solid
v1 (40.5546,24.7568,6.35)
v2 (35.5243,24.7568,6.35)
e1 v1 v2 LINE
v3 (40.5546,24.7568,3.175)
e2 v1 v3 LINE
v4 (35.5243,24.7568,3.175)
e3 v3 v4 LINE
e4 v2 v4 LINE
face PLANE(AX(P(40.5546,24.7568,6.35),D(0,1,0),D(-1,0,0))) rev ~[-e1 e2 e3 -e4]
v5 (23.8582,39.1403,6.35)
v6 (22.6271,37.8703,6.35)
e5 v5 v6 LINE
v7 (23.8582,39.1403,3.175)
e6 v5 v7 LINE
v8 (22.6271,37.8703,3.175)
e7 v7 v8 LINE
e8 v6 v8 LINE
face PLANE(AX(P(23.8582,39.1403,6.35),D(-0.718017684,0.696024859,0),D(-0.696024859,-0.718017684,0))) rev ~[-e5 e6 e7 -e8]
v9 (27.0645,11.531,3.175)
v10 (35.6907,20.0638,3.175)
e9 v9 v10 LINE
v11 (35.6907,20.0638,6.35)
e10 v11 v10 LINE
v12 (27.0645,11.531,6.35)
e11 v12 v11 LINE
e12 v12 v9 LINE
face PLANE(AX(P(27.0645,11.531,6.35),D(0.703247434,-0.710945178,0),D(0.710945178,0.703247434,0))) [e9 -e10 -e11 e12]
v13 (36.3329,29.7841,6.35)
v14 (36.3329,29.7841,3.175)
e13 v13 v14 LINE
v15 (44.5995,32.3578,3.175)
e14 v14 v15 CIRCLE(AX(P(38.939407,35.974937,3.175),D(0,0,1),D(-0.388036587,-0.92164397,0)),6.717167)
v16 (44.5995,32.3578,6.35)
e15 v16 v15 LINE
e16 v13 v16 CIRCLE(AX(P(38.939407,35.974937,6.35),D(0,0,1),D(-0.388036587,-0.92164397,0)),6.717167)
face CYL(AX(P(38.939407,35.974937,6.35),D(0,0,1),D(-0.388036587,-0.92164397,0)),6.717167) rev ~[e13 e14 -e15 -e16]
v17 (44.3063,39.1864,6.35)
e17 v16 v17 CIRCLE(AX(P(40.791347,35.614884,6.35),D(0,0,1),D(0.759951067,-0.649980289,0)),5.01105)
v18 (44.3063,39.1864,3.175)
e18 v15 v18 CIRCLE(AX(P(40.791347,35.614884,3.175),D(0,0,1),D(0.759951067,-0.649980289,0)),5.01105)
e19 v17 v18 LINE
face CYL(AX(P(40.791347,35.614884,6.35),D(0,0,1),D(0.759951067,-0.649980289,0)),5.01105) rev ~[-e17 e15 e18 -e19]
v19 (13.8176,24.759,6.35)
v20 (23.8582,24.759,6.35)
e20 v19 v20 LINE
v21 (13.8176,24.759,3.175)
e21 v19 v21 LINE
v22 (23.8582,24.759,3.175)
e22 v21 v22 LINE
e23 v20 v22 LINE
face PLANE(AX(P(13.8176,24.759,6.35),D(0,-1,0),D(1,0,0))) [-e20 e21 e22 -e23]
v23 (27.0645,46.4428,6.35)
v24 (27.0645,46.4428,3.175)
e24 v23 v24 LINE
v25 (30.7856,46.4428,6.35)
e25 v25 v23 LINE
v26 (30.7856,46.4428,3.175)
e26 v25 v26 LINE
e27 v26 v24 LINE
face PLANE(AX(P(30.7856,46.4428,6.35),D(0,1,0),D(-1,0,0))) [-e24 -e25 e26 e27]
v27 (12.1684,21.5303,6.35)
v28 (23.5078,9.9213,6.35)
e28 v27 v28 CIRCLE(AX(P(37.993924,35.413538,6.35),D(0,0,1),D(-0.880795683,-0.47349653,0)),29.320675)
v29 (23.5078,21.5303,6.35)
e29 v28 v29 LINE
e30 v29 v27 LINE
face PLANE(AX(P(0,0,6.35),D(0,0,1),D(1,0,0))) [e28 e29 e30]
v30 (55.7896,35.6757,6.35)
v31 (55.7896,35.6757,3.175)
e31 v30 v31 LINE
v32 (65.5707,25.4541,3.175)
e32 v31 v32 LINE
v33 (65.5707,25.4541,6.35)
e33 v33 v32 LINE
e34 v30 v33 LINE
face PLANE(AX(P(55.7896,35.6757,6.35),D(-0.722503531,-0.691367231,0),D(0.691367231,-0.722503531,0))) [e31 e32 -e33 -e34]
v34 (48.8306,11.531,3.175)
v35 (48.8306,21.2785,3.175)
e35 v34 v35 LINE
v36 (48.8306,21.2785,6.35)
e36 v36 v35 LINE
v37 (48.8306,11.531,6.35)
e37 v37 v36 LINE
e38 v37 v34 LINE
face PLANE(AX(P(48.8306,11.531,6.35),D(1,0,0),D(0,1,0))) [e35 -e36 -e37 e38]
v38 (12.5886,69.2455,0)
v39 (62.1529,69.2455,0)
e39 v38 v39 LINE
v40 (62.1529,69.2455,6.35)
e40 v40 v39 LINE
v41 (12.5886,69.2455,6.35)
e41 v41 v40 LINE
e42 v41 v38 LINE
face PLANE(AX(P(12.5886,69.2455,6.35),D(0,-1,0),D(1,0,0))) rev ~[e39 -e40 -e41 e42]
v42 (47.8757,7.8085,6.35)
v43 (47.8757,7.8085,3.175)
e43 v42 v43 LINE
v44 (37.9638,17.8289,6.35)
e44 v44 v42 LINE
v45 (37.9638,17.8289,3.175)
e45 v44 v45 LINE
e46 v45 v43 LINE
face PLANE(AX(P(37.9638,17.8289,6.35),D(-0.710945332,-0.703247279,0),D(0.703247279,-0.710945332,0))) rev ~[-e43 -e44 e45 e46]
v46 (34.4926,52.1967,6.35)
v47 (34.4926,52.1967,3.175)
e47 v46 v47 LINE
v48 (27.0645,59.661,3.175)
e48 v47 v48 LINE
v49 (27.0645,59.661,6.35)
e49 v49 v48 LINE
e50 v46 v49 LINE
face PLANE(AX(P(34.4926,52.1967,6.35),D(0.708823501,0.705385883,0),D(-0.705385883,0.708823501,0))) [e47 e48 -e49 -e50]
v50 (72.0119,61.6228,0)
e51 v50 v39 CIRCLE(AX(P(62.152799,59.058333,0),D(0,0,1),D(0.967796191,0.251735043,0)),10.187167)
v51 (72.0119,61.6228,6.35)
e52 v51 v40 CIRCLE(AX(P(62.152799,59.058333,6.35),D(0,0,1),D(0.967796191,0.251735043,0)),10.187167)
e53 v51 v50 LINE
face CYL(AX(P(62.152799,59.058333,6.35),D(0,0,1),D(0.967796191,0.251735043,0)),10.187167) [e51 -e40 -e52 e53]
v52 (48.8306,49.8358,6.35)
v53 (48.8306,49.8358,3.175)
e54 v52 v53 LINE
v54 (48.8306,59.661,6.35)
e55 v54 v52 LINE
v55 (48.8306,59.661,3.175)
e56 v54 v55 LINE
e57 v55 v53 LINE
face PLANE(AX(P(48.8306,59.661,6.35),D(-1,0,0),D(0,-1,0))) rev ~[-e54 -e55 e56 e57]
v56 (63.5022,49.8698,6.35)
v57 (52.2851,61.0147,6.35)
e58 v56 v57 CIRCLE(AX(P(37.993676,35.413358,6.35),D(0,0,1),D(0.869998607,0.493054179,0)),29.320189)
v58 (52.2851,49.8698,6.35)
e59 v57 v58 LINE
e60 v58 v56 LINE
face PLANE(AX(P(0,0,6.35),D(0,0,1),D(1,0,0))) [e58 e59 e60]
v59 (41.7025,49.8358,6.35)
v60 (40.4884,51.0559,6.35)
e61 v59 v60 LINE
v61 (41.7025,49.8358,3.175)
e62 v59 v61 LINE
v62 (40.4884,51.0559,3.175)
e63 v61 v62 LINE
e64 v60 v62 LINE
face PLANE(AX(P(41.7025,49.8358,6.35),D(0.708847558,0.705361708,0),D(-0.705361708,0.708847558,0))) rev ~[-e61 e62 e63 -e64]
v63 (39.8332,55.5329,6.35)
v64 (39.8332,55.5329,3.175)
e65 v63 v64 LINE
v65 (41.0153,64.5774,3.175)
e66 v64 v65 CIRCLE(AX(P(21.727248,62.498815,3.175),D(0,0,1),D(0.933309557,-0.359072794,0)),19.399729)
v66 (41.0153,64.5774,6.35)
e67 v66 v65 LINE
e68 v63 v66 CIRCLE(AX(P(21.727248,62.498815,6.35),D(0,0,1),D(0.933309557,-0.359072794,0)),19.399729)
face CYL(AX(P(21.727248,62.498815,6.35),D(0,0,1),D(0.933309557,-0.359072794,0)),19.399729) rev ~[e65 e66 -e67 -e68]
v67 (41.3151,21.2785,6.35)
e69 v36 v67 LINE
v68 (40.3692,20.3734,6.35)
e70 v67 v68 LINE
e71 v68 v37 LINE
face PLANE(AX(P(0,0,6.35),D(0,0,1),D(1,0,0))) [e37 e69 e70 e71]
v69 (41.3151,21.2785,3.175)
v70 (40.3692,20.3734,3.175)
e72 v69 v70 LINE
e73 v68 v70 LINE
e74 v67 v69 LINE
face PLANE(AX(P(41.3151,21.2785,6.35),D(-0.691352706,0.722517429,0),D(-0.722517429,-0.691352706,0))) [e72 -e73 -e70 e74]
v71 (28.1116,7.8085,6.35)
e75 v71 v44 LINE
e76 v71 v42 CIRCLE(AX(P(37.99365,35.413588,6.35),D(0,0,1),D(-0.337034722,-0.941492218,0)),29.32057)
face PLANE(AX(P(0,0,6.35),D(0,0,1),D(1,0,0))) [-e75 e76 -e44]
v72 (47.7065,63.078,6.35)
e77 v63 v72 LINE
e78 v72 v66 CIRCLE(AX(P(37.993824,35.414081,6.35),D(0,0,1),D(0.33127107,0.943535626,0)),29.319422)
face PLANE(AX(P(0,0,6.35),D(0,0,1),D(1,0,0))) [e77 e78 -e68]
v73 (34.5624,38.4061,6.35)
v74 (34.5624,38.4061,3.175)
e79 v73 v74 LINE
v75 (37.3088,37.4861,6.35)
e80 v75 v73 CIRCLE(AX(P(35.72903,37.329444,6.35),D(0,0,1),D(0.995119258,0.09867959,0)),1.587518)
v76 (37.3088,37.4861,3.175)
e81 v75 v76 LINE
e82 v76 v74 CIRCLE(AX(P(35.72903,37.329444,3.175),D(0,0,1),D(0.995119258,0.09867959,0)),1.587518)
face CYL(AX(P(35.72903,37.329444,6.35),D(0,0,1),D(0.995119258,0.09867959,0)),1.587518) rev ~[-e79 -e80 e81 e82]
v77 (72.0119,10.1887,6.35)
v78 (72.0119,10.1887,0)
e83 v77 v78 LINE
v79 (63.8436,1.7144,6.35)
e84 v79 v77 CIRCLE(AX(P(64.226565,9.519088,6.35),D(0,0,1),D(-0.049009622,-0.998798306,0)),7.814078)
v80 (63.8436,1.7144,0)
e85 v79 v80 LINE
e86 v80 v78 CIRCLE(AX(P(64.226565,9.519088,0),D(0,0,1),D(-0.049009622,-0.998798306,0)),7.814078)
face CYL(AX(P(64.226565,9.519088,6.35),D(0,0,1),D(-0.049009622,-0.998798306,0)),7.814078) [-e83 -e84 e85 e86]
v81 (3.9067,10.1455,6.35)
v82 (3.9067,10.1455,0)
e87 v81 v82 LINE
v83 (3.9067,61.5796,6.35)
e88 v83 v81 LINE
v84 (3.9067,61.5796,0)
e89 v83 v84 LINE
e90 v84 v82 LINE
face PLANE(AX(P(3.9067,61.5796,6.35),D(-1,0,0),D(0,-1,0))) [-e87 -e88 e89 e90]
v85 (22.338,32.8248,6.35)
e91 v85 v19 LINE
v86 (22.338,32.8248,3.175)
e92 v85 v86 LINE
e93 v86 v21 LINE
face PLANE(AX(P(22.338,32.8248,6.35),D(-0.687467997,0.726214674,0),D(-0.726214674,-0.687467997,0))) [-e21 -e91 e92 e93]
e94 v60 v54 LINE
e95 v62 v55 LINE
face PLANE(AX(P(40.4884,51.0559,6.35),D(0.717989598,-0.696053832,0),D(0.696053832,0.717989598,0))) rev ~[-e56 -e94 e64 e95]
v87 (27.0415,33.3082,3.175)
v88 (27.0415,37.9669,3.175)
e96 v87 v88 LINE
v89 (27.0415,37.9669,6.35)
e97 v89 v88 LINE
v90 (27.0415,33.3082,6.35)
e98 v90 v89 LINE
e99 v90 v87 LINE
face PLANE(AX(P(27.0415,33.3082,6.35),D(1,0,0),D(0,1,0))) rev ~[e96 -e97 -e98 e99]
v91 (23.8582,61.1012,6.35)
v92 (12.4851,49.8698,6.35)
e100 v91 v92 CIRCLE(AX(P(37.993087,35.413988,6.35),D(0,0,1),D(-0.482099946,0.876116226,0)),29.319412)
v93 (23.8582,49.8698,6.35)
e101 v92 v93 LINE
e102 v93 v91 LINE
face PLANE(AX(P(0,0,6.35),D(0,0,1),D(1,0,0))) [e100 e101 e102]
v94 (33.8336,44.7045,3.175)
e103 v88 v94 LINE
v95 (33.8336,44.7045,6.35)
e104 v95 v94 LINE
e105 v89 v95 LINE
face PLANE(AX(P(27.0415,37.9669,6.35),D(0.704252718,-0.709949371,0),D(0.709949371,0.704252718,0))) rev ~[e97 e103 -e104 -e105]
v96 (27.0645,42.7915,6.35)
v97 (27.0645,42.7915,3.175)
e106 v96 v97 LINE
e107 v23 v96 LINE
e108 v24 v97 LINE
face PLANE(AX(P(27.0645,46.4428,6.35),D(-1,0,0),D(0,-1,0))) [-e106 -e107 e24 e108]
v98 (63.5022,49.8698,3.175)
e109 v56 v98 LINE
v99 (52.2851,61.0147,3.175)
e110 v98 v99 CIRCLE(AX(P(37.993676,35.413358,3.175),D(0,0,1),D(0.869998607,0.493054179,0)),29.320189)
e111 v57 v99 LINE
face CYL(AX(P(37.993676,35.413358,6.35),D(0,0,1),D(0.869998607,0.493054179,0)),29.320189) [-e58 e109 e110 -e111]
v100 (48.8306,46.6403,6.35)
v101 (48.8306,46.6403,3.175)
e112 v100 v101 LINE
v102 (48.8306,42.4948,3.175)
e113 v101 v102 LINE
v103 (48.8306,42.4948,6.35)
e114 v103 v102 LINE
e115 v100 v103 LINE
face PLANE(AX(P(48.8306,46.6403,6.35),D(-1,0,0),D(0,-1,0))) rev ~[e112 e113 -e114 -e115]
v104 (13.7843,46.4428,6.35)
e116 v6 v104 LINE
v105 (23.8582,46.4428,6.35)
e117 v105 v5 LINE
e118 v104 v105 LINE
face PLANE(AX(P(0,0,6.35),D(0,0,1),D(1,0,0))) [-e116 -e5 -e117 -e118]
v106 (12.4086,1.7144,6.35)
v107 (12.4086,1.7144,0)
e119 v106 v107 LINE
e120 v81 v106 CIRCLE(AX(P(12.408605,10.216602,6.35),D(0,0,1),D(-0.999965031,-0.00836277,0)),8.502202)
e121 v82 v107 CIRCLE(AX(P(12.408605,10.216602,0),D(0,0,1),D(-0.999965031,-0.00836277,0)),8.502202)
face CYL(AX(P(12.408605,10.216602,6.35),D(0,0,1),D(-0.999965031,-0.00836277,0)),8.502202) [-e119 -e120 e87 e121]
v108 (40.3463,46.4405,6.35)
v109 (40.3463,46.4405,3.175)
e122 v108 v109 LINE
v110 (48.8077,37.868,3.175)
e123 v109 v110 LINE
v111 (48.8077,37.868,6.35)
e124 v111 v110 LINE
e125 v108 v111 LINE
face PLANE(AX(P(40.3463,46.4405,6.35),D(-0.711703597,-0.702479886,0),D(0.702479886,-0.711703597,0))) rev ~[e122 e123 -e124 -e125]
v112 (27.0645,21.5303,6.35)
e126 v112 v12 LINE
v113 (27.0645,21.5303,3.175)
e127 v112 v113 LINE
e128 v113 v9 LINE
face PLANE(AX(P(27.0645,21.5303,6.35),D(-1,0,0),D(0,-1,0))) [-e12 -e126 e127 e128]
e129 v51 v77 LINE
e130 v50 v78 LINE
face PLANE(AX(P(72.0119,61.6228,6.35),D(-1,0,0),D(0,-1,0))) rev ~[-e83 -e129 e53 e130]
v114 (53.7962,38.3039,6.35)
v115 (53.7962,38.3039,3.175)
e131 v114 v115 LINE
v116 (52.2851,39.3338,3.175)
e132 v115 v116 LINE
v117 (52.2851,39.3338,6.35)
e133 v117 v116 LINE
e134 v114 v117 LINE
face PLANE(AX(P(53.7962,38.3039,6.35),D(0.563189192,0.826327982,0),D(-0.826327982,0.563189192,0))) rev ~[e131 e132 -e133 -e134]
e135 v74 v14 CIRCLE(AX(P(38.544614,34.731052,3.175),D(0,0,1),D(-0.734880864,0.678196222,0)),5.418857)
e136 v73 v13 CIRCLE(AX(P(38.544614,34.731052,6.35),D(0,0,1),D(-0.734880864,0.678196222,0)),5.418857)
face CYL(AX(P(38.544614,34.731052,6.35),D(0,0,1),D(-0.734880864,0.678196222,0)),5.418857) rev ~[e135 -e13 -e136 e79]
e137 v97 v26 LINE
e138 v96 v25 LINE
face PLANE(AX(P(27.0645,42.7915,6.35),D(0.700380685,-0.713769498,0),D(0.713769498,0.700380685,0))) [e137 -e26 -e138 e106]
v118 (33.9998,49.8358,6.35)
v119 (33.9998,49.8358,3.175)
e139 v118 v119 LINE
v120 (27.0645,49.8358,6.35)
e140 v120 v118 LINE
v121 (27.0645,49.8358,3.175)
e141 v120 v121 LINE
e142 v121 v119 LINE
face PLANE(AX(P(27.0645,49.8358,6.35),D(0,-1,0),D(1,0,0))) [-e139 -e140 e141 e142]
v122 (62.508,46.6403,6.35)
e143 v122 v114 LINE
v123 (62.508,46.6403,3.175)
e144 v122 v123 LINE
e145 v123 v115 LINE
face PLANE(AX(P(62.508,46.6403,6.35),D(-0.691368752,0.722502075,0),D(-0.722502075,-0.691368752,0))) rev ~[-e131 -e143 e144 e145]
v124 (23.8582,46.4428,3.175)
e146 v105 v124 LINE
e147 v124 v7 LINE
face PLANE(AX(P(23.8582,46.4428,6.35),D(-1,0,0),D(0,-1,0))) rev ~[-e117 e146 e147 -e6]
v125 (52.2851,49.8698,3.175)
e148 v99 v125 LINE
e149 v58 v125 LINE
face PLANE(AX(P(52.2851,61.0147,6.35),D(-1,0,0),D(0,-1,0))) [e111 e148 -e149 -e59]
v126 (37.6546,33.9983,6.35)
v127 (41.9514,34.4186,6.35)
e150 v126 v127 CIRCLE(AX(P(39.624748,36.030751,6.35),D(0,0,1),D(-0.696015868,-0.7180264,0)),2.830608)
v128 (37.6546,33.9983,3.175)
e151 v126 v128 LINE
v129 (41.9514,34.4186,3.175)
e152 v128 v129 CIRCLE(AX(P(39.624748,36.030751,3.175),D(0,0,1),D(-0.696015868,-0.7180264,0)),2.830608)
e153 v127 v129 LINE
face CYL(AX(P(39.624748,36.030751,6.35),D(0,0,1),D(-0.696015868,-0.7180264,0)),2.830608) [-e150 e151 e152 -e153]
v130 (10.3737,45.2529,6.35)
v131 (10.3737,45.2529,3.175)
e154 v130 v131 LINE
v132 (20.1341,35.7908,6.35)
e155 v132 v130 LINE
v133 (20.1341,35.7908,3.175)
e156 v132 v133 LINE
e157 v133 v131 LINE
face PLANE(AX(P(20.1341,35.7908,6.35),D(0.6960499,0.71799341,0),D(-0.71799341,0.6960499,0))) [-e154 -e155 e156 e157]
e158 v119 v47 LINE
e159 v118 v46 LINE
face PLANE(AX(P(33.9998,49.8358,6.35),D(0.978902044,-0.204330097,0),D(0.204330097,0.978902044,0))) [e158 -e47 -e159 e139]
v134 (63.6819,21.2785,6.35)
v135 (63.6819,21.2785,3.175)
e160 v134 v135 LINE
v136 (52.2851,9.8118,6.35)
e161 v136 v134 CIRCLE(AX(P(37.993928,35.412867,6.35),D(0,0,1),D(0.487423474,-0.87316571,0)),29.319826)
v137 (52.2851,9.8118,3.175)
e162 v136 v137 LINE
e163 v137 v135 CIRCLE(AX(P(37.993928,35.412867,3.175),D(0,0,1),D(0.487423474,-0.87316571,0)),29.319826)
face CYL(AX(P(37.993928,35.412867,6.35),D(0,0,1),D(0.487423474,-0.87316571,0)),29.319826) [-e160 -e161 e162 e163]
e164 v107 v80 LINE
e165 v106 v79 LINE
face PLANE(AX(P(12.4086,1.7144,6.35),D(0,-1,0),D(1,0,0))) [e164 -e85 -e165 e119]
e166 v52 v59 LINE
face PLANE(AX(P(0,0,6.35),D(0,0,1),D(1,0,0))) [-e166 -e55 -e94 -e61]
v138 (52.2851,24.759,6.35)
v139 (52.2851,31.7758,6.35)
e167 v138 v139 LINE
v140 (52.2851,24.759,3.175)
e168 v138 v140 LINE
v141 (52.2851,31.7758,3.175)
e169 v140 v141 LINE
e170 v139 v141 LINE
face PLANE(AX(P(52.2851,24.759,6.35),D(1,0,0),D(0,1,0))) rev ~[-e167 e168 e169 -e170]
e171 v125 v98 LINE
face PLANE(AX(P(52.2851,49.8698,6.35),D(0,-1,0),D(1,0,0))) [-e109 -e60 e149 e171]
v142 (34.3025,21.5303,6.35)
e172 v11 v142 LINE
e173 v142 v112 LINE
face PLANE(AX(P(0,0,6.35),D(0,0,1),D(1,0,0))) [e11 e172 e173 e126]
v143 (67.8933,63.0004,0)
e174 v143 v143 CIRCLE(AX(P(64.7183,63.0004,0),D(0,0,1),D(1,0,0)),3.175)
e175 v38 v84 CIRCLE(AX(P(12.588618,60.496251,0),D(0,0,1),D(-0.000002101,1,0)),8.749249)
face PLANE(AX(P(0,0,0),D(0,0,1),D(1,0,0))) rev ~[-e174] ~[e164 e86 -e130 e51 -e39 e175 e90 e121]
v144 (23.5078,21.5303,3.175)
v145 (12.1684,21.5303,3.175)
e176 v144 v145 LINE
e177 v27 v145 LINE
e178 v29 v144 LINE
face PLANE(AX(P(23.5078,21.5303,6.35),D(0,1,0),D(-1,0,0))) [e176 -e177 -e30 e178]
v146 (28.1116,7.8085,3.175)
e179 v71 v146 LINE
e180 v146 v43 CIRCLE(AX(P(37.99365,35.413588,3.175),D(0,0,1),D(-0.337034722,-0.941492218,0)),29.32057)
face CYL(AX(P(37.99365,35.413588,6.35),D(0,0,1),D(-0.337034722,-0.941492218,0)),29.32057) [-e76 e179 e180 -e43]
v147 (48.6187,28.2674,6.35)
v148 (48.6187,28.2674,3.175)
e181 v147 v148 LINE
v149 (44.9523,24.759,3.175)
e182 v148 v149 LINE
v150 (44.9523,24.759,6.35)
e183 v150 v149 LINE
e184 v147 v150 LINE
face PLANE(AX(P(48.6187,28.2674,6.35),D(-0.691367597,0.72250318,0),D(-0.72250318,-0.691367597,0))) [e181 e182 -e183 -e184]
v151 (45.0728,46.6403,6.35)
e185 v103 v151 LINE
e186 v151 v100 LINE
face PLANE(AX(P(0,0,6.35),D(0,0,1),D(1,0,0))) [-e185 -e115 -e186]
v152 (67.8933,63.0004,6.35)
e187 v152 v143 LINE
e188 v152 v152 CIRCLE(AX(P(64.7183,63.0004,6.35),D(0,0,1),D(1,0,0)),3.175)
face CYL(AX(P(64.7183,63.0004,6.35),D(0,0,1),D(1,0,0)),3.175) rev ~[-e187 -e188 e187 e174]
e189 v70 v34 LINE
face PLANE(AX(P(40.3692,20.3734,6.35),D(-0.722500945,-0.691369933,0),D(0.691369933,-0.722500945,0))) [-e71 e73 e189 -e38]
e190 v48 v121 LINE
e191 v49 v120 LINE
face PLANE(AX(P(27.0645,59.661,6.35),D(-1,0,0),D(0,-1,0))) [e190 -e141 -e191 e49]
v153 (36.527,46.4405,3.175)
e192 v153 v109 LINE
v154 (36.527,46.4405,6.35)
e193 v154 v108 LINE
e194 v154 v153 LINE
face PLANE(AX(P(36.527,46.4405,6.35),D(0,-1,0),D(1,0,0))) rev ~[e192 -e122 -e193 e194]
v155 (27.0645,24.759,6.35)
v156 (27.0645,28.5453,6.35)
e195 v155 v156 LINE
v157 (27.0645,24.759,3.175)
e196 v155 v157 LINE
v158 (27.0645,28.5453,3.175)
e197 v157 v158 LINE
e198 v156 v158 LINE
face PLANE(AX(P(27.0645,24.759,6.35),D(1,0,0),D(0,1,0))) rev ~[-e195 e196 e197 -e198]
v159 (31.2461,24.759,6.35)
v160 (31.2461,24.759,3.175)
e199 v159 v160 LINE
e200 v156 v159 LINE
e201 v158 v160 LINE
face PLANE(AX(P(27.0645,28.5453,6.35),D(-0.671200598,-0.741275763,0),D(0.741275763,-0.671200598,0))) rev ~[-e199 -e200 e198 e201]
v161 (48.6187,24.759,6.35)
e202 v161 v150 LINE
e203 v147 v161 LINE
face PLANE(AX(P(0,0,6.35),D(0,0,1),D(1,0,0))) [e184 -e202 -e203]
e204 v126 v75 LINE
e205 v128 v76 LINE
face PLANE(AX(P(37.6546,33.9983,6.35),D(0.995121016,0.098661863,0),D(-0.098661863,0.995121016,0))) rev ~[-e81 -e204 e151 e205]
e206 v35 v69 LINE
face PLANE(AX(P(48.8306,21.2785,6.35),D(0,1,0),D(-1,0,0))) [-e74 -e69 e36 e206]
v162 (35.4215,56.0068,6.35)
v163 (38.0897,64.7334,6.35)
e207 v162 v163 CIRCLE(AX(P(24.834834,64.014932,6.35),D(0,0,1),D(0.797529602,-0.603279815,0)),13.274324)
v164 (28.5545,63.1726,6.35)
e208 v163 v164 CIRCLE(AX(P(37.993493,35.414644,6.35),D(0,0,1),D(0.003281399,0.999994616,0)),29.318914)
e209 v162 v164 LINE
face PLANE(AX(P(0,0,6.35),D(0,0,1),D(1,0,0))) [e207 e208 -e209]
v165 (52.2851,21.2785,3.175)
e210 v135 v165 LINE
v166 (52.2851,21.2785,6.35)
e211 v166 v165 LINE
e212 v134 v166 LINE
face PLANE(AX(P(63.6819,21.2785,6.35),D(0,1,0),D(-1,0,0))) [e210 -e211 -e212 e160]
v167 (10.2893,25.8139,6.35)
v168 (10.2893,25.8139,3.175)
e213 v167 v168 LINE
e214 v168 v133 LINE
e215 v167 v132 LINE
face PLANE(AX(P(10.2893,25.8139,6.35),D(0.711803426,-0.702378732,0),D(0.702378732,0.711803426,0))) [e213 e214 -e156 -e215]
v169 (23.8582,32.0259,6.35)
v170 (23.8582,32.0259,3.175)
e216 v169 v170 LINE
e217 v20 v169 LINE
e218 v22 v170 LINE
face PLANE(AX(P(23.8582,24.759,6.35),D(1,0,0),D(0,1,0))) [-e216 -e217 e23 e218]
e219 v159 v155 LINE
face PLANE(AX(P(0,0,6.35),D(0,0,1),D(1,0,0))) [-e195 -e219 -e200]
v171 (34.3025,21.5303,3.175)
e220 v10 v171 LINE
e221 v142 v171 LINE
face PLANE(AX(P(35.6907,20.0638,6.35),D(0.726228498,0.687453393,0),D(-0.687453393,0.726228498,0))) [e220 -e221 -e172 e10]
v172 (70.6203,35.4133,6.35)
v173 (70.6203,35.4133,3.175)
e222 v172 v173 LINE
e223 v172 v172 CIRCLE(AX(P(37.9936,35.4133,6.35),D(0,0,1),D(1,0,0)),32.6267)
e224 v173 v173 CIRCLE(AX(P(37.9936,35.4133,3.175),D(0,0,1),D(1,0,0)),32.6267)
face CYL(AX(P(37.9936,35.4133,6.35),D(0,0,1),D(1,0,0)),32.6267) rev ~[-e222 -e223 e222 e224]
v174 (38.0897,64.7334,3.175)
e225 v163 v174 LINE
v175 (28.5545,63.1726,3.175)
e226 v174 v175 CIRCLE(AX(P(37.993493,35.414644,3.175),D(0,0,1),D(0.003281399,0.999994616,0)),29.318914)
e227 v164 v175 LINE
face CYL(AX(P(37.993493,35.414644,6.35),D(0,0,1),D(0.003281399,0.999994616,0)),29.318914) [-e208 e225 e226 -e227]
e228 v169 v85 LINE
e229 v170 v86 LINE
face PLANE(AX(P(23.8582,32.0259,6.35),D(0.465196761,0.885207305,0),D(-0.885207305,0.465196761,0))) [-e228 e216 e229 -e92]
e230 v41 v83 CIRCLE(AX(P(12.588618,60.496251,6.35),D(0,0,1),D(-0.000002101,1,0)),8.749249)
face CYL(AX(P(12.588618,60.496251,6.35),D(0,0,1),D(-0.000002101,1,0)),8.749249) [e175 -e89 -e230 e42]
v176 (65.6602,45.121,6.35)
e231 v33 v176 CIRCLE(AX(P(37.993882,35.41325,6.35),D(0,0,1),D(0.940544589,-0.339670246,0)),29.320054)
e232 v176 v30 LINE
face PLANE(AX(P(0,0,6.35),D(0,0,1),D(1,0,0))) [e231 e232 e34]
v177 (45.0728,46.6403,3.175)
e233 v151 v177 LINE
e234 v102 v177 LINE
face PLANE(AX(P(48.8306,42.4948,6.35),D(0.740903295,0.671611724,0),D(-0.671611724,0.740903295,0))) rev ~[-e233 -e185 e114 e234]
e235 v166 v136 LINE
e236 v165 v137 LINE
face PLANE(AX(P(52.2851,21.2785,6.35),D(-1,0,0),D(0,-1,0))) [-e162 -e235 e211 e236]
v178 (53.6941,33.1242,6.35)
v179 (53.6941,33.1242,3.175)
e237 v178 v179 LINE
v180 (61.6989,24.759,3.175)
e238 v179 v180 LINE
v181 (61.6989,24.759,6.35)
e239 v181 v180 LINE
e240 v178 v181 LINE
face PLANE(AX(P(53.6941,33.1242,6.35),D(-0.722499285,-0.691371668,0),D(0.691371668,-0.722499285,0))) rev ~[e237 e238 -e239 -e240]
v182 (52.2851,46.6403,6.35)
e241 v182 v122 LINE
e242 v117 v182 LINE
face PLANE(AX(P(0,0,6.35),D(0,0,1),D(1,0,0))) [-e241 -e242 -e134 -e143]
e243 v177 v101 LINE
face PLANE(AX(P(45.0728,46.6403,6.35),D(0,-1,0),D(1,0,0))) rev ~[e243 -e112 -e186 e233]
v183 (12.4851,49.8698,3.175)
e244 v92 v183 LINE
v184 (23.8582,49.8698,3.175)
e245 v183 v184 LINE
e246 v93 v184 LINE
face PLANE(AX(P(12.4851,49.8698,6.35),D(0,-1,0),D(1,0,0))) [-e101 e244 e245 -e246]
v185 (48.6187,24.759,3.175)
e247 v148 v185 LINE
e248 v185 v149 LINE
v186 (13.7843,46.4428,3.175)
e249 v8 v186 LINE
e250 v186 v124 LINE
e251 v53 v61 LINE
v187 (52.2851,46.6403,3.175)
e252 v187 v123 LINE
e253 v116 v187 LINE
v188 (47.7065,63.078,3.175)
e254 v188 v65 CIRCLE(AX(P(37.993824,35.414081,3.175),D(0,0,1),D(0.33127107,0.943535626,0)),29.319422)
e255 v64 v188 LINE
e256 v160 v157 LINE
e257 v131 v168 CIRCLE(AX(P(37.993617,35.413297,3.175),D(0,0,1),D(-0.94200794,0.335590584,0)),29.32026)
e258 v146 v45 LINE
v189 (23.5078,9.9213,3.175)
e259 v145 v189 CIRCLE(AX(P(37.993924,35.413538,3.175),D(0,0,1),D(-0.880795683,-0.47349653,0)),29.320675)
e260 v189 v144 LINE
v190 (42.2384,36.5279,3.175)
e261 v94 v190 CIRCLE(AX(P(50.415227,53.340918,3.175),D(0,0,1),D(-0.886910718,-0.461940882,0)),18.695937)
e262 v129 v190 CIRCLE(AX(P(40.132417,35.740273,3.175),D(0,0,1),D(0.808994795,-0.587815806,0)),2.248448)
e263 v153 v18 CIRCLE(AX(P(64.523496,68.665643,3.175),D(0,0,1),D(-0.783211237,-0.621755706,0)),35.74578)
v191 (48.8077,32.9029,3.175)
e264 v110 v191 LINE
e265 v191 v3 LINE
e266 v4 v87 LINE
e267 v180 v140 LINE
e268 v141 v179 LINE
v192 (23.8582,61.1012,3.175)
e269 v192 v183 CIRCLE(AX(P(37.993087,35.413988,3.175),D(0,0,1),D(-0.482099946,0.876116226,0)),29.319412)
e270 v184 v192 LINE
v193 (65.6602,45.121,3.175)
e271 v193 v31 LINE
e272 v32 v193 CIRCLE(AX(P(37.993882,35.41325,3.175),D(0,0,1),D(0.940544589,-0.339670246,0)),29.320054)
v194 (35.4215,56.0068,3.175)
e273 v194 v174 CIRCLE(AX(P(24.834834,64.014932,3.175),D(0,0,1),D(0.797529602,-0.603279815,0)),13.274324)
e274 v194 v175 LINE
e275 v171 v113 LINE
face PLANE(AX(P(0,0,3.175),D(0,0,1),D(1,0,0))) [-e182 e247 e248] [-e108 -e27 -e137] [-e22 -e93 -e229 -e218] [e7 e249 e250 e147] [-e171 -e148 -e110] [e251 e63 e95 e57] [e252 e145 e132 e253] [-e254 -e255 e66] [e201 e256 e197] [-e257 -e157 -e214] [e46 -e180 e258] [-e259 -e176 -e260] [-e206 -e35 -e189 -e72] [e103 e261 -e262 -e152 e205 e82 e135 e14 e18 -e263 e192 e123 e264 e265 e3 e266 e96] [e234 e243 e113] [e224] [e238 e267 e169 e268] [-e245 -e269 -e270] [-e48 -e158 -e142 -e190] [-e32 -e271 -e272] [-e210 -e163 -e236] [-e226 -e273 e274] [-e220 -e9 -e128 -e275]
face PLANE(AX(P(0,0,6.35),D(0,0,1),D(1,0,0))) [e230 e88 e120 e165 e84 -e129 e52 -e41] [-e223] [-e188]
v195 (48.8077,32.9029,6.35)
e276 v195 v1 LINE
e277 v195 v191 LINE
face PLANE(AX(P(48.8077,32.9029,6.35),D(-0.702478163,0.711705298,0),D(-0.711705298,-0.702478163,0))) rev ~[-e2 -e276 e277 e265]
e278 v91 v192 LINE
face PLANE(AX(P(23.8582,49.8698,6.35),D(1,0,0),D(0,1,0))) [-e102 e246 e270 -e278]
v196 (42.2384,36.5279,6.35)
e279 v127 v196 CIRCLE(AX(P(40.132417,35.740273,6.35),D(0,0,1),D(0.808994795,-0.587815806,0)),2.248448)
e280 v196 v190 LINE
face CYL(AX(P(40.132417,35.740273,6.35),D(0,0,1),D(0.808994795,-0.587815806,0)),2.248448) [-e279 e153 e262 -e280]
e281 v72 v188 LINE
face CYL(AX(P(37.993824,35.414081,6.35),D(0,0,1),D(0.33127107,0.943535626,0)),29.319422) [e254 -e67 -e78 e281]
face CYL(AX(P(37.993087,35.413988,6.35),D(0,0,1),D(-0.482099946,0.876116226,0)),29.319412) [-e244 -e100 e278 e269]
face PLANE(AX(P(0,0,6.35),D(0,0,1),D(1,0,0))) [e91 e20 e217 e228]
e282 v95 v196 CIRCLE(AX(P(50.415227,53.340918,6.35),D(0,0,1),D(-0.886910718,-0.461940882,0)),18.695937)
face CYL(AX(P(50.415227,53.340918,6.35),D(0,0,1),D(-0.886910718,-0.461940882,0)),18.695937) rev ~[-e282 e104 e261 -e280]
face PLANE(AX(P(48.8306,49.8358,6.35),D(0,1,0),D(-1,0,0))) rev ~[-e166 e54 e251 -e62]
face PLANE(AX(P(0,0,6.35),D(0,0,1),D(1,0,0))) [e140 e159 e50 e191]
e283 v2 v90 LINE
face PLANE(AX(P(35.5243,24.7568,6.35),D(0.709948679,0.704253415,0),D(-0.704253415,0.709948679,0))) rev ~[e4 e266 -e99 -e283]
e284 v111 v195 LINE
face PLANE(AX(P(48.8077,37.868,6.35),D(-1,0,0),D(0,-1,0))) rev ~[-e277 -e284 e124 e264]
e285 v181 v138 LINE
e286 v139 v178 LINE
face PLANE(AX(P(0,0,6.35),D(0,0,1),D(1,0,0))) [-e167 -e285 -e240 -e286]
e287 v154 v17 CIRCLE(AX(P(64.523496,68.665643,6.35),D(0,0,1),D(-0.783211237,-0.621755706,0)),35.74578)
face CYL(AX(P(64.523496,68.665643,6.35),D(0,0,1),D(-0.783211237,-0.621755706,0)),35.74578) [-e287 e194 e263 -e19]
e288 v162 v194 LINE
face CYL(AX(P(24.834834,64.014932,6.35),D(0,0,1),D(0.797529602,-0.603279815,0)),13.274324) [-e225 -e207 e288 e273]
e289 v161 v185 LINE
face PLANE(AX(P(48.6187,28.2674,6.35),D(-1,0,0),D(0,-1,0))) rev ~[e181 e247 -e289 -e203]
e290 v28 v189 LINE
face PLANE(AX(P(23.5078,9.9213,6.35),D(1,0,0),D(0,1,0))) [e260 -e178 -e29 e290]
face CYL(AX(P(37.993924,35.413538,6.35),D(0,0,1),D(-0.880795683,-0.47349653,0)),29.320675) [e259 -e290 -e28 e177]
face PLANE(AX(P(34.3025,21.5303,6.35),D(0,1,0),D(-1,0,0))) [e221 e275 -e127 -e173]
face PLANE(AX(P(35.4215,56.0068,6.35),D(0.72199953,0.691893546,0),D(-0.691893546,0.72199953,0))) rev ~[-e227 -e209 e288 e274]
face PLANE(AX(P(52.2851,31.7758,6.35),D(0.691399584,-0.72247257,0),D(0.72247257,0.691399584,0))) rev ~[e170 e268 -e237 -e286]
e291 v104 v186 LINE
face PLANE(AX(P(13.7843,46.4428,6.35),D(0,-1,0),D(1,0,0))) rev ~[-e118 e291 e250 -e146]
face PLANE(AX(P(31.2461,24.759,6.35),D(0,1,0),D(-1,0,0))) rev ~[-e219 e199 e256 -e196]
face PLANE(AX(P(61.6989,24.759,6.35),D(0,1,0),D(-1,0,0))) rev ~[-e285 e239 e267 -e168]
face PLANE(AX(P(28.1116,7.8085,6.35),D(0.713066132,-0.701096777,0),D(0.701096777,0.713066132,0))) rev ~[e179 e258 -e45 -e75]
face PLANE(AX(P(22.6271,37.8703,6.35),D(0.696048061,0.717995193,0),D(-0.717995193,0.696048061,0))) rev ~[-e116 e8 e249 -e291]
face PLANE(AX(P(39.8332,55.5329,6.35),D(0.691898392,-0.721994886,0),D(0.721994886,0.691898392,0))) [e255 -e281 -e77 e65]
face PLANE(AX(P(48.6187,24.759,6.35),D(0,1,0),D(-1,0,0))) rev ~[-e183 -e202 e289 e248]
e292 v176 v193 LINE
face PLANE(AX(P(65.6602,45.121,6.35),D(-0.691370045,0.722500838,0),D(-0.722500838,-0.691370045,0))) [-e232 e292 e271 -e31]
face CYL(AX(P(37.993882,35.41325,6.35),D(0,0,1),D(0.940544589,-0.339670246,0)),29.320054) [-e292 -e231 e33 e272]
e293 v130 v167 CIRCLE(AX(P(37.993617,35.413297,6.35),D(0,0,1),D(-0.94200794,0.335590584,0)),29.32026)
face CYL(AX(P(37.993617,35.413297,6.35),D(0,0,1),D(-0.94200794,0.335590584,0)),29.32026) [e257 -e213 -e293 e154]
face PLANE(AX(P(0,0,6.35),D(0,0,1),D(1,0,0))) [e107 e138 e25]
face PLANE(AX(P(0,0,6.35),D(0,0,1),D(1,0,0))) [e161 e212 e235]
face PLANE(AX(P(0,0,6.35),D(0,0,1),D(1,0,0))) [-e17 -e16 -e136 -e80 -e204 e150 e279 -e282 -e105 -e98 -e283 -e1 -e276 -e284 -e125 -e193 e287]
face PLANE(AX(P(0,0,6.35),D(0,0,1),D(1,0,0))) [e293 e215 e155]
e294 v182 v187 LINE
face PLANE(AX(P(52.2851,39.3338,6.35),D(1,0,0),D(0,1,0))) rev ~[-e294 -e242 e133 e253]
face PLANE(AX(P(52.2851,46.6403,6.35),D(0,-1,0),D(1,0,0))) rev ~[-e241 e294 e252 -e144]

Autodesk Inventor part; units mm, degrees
ref_plane "YZ Plane" through (0, 0, 0) normal (1, 0, 0) x (0, 1, 0)
ref_plane "XZ Plane" through (0, 0, 0) normal (0, 1, 0) x (-1, 0, 0)
ref_plane "XY Plane" through (0, 0, 0) normal (0, 0, 1) x (1, 0, 0)
sketch "Sketch1" plane through (0, 0, 0) normal (0, 0, 1) x (1, 0, 0)
  line L0 (0, 0) -> (76.2, 0)
  line L1 (76.2, 0) -> (76.2, 76.2)
  line L2 (76.2, 76.2) -> (0, 76.2)
  line L3 (0, 76.2) -> (0, 0)
  line L4 (2.2528, 73.2748) -> (74.5621, 73.2748) construction
  line L5 (74.5621, 73.2748) -> (74.5621, 0.9654) construction
  line L6 (74.5621, 0.9654) -> (2.2528, 0.9654) construction
  line L7 (2.2528, 0.9654) -> (2.2528, 73.2748) construction
  dimension "d0" = 76.2
  dimension "d1" = 76.2
extrude "Extrusion1" add sketch "Sketch1" along normal blind 6.35
sketch "Sketch4" plane through (0, 0, 6.35) normal (0, 0, 1) x (1, 0, 0)
  circle A0 centre (37.9936, 35.4133) radius 32.6267
  arc A1 (39.8332, 55.5329) -> (41.0153, 64.5774) centre (21.7277, 62.4987) ccw
  line L0 (39.8332, 55.5329) -> (47.7065, 63.078)
  line L1 (35.4215, 56.0068) -> (28.5545, 63.1726)
  line L2 (27.0645, 59.661) -> (27.0645, 49.8358)
  line L3 (27.0645, 49.8358) -> (33.9998, 49.8358)
  line L4 (33.9998, 49.8358) -> (34.4926, 52.1967)
  line L5 (34.4926, 52.1967) -> (27.0645, 59.661)
  line L6 (48.8306, 59.661) -> (48.8306, 49.8358)
  line L7 (48.8306, 49.8358) -> (41.7025, 49.8358)
  line L8 (41.7025, 49.8358) -> (40.4884, 51.0559)
  line L9 (40.4884, 51.0559) -> (48.8306, 59.661)
  line L10 (52.2851, 61.0147) -> (52.2851, 49.8698)
  line L11 (52.2851, 49.8698) -> (63.5022, 49.8698)
  line L12 (52.2851, 46.6403) -> (62.508, 46.6403)
  line L13 (62.508, 46.6403) -> (53.7962, 38.3039)
  line L14 (53.7962, 38.3039) -> (52.2851, 39.3338)
  line L15 (52.2851, 39.3338) -> (52.2851, 46.6403)
  line L16 (65.6602, 45.121) -> (55.7896, 35.6757)
  line L17 (55.7896, 35.6757) -> (65.5707, 25.4541)
  line L18 (52.2851, 31.7758) -> (53.6941, 33.1242)
  line L19 (53.6941, 33.1242) -> (61.6989, 24.759)
  line L20 (61.6989, 24.759) -> (52.2851, 24.759)
  line L21 (52.2851, 24.759) -> (52.2851, 31.7758)
  line L22 (48.6187, 28.2674) -> (48.6187, 24.759)
  line L23 (48.6187, 24.759) -> (44.9523, 24.759)
  line L24 (48.6187, 28.2674) -> (44.9523, 24.759)
  line L25 (63.6819, 21.2785) -> (52.2851, 21.2785)
  line L26 (52.2851, 21.2785) -> (52.2851, 9.8118)
  line L27 (41.3151, 21.2785) -> (40.3692, 20.3734)
  line L28 (40.3692, 20.3734) -> (48.8306, 11.531)
  line L29 (48.8306, 11.531) -> (48.8306, 21.2785)
  line L30 (48.8306, 21.2785) -> (41.3151, 21.2785)
  line L31 (28.1116, 7.8085) -> (37.9638, 17.8289)
  line L32 (37.9638, 17.8289) -> (47.8757, 7.8085)
  line L33 (45.0728, 46.6403) -> (48.8306, 46.6403)
  line L34 (48.8306, 46.6403) -> (48.8306, 42.4948)
  line L35 (48.8306, 42.4948) -> (45.0728, 46.6403)
  line L36 (27.0645, 21.5303) -> (27.0645, 11.531)
  line L37 (27.0645, 11.531) -> (35.6907, 20.0638)
  line L38 (35.6907, 20.0638) -> (34.3025, 21.5303)
  line L39 (34.3025, 21.5303) -> (27.0645, 21.5303)
  line L40 (27.0645, 24.759) -> (27.0645, 28.5453)
  line L41 (27.0645, 28.5453) -> (31.2461, 24.759)
  line L42 (31.2461, 24.759) -> (27.0645, 24.759)
  line L43 (23.5078, 9.9213) -> (23.5078, 21.5303)
  line L44 (23.5078, 21.5303) -> (12.1684, 21.5303)
  line L45 (22.338, 32.8248) -> (13.8176, 24.759)
  line L46 (13.8176, 24.759) -> (23.8582, 24.759)
  line L47 (23.8582, 24.759) -> (23.8582, 32.0259)
  line L48 (23.8582, 32.0259) -> (22.338, 32.8248)
  line L49 (10.2893, 25.8139) -> (20.1341, 35.7908)
  line L50 (20.1341, 35.7908) -> (10.3737, 45.2529)
  line L51 (13.7843, 46.4428) -> (23.8582, 46.4428)
  line L52 (23.8582, 46.4428) -> (23.8582, 39.1403)
  line L53 (23.8582, 39.1403) -> (22.6271, 37.8703)
  line L54 (22.6271, 37.8703) -> (13.7843, 46.4428)
  line L55 (12.4851, 49.8698) -> (23.8582, 49.8698)
  line L56 (23.8582, 49.8698) -> (23.8582, 61.1012)
  line L57 (36.527, 46.4405) -> (40.3463, 46.4405)
  line L58 (40.3463, 46.4405) -> (48.8077, 37.868)
  line L59 (48.8077, 37.868) -> (48.8077, 32.9029)
  line L60 (48.8077, 32.9029) -> (40.5546, 24.7568)
  line L61 (40.5546, 24.7568) -> (35.5243, 24.7568)
  line L62 (35.5243, 24.7568) -> (27.0415, 33.3082)
  line L63 (27.0415, 33.3082) -> (27.0415, 37.9669)
  line L64 (27.0415, 37.9669) -> (33.8336, 44.7045)
  arc A2 (37.3088, 37.4861) -> (34.5624, 38.4061) centre (35.7291, 37.3295) ccw
  arc A3 (35.4215, 56.0068) -> (38.0897, 64.7334) centre (24.8347, 64.015) ccw
  line L65 (30.7856, 46.4428) -> (27.0645, 46.4428)
  line L66 (27.0645, 46.4428) -> (27.0645, 42.7915)
  line L67 (27.0645, 42.7915) -> (30.7856, 46.4428)
  arc A4 (38.0897, 64.7334) -> (28.5545, 63.1726) centre (37.9936, 35.4133) ccw
  arc A5 (23.8582, 61.1012) -> (12.4851, 49.8698) centre (37.9936, 35.4133) ccw
  arc A6 (10.3737, 45.2529) -> (10.2893, 25.8139) centre (37.9936, 35.4133) ccw
  arc A7 (12.1684, 21.5303) -> (23.5078, 9.9213) centre (37.9936, 35.4133) ccw
  arc A8 (28.1116, 7.8085) -> (47.8757, 7.8085) centre (37.9936, 35.4133) ccw
  arc A9 (52.2851, 9.8118) -> (63.6819, 21.2785) centre (37.9936, 35.4133) ccw
  arc A10 (65.5707, 25.4541) -> (65.6602, 45.121) centre (37.9936, 35.4133) ccw
  arc A11 (63.5022, 49.8698) -> (52.2851, 61.0147) centre (37.9936, 35.4133) ccw
  arc A12 (47.7065, 63.078) -> (41.0153, 64.5774) centre (37.9936, 35.4133) ccw
  arc A13 (33.8336, 44.7045) -> (42.2384, 36.5279) centre (50.4148, 53.3406) ccw
  arc A14 (36.527, 46.4405) -> (44.3063, 39.1864) centre (64.5241, 68.6662) ccw
  arc A15 (41.9514, 34.4186) -> (42.2384, 36.5279) centre (40.1326, 35.7402) ccw
  arc A16 (37.6546, 33.9983) -> (41.9514, 34.4186) centre (39.6248, 36.0309) ccw
  line L68 (37.6546, 33.9983) -> (37.3088, 37.4861)
  arc A17 (44.5995, 32.3578) -> (44.3063, 39.1864) centre (40.7913, 35.6149) ccw
  arc A18 (36.3329, 29.7841) -> (44.5995, 32.3578) centre (38.9394, 35.9748) ccw
  arc A19 (34.5624, 38.4061) -> (36.3329, 29.7841) centre (38.5448, 34.731) ccw
  arc A20 (37.1687, 38.8991) -> (37.0823, 38.9844) centre (36.1383, 37.9413) ccw
  point P0 (0, 0)
  dimension "d39" = 3.2295
  dimension "d40" = 3.4545
  dimension "d41" = 3.4545
  dimension "d42" = 3.175
  dimension "d43" = 3.2062
  dimension "d44" = 3.393
  dimension "d45" = 3.427
  dimension "d46" = 3.2062
  dimension "d47" = 3.2062
  dimension "d48" = 3.5566
  dimension "d49" = 3.2287
  dimension "d50" = 3.4545
  dimension "d51" = 3.4805
  dimension "d52" = 3.6664
extrude "Extrusion2" cut sketch "Sketch4" against normal blind 3.175
sketch "Sketch5" plane through (0, 0, 6.35) normal (0, 0, 1) x (1, 0, 0)
  line L0 (3.9067, 61.5796) -> (3.9067, 10.1455)
  line L1 (12.4086, 1.7144) -> (63.8436, 1.7144)
  arc A0 (3.9067, 10.1455) -> (12.4086, 1.7144) centre (12.4086, 10.2166) ccw
  line L2 (72.0119, 61.6228) -> (72.0119, 10.1887)
  arc A1 (63.8436, 1.7144) -> (72.0119, 10.1887) centre (64.2266, 9.519) ccw
  line L3 (12.5886, 69.2455) -> (62.1529, 69.2455)
  arc A2 (12.5886, 69.2455) -> (3.9067, 61.5796) centre (12.5886, 60.4963) ccw
  arc A3 (72.0119, 61.6228) -> (62.1529, 69.2455) centre (62.1529, 59.0584) ccw
  circle A4 centre (64.7183, 63.0004) radius 3.175
  point P0 (0, 0)
  dimension "d55" = 51.4341
  dimension "d56" = 51.435
  dimension "d57" = 6.35
extrude "Extrusion3" cut sketch "Sketch5" against normal through all contours A4
extrude "Extrusion4" cut sketch "Sketch5" against normal through all keep common part
properties part number "fma key chain"
